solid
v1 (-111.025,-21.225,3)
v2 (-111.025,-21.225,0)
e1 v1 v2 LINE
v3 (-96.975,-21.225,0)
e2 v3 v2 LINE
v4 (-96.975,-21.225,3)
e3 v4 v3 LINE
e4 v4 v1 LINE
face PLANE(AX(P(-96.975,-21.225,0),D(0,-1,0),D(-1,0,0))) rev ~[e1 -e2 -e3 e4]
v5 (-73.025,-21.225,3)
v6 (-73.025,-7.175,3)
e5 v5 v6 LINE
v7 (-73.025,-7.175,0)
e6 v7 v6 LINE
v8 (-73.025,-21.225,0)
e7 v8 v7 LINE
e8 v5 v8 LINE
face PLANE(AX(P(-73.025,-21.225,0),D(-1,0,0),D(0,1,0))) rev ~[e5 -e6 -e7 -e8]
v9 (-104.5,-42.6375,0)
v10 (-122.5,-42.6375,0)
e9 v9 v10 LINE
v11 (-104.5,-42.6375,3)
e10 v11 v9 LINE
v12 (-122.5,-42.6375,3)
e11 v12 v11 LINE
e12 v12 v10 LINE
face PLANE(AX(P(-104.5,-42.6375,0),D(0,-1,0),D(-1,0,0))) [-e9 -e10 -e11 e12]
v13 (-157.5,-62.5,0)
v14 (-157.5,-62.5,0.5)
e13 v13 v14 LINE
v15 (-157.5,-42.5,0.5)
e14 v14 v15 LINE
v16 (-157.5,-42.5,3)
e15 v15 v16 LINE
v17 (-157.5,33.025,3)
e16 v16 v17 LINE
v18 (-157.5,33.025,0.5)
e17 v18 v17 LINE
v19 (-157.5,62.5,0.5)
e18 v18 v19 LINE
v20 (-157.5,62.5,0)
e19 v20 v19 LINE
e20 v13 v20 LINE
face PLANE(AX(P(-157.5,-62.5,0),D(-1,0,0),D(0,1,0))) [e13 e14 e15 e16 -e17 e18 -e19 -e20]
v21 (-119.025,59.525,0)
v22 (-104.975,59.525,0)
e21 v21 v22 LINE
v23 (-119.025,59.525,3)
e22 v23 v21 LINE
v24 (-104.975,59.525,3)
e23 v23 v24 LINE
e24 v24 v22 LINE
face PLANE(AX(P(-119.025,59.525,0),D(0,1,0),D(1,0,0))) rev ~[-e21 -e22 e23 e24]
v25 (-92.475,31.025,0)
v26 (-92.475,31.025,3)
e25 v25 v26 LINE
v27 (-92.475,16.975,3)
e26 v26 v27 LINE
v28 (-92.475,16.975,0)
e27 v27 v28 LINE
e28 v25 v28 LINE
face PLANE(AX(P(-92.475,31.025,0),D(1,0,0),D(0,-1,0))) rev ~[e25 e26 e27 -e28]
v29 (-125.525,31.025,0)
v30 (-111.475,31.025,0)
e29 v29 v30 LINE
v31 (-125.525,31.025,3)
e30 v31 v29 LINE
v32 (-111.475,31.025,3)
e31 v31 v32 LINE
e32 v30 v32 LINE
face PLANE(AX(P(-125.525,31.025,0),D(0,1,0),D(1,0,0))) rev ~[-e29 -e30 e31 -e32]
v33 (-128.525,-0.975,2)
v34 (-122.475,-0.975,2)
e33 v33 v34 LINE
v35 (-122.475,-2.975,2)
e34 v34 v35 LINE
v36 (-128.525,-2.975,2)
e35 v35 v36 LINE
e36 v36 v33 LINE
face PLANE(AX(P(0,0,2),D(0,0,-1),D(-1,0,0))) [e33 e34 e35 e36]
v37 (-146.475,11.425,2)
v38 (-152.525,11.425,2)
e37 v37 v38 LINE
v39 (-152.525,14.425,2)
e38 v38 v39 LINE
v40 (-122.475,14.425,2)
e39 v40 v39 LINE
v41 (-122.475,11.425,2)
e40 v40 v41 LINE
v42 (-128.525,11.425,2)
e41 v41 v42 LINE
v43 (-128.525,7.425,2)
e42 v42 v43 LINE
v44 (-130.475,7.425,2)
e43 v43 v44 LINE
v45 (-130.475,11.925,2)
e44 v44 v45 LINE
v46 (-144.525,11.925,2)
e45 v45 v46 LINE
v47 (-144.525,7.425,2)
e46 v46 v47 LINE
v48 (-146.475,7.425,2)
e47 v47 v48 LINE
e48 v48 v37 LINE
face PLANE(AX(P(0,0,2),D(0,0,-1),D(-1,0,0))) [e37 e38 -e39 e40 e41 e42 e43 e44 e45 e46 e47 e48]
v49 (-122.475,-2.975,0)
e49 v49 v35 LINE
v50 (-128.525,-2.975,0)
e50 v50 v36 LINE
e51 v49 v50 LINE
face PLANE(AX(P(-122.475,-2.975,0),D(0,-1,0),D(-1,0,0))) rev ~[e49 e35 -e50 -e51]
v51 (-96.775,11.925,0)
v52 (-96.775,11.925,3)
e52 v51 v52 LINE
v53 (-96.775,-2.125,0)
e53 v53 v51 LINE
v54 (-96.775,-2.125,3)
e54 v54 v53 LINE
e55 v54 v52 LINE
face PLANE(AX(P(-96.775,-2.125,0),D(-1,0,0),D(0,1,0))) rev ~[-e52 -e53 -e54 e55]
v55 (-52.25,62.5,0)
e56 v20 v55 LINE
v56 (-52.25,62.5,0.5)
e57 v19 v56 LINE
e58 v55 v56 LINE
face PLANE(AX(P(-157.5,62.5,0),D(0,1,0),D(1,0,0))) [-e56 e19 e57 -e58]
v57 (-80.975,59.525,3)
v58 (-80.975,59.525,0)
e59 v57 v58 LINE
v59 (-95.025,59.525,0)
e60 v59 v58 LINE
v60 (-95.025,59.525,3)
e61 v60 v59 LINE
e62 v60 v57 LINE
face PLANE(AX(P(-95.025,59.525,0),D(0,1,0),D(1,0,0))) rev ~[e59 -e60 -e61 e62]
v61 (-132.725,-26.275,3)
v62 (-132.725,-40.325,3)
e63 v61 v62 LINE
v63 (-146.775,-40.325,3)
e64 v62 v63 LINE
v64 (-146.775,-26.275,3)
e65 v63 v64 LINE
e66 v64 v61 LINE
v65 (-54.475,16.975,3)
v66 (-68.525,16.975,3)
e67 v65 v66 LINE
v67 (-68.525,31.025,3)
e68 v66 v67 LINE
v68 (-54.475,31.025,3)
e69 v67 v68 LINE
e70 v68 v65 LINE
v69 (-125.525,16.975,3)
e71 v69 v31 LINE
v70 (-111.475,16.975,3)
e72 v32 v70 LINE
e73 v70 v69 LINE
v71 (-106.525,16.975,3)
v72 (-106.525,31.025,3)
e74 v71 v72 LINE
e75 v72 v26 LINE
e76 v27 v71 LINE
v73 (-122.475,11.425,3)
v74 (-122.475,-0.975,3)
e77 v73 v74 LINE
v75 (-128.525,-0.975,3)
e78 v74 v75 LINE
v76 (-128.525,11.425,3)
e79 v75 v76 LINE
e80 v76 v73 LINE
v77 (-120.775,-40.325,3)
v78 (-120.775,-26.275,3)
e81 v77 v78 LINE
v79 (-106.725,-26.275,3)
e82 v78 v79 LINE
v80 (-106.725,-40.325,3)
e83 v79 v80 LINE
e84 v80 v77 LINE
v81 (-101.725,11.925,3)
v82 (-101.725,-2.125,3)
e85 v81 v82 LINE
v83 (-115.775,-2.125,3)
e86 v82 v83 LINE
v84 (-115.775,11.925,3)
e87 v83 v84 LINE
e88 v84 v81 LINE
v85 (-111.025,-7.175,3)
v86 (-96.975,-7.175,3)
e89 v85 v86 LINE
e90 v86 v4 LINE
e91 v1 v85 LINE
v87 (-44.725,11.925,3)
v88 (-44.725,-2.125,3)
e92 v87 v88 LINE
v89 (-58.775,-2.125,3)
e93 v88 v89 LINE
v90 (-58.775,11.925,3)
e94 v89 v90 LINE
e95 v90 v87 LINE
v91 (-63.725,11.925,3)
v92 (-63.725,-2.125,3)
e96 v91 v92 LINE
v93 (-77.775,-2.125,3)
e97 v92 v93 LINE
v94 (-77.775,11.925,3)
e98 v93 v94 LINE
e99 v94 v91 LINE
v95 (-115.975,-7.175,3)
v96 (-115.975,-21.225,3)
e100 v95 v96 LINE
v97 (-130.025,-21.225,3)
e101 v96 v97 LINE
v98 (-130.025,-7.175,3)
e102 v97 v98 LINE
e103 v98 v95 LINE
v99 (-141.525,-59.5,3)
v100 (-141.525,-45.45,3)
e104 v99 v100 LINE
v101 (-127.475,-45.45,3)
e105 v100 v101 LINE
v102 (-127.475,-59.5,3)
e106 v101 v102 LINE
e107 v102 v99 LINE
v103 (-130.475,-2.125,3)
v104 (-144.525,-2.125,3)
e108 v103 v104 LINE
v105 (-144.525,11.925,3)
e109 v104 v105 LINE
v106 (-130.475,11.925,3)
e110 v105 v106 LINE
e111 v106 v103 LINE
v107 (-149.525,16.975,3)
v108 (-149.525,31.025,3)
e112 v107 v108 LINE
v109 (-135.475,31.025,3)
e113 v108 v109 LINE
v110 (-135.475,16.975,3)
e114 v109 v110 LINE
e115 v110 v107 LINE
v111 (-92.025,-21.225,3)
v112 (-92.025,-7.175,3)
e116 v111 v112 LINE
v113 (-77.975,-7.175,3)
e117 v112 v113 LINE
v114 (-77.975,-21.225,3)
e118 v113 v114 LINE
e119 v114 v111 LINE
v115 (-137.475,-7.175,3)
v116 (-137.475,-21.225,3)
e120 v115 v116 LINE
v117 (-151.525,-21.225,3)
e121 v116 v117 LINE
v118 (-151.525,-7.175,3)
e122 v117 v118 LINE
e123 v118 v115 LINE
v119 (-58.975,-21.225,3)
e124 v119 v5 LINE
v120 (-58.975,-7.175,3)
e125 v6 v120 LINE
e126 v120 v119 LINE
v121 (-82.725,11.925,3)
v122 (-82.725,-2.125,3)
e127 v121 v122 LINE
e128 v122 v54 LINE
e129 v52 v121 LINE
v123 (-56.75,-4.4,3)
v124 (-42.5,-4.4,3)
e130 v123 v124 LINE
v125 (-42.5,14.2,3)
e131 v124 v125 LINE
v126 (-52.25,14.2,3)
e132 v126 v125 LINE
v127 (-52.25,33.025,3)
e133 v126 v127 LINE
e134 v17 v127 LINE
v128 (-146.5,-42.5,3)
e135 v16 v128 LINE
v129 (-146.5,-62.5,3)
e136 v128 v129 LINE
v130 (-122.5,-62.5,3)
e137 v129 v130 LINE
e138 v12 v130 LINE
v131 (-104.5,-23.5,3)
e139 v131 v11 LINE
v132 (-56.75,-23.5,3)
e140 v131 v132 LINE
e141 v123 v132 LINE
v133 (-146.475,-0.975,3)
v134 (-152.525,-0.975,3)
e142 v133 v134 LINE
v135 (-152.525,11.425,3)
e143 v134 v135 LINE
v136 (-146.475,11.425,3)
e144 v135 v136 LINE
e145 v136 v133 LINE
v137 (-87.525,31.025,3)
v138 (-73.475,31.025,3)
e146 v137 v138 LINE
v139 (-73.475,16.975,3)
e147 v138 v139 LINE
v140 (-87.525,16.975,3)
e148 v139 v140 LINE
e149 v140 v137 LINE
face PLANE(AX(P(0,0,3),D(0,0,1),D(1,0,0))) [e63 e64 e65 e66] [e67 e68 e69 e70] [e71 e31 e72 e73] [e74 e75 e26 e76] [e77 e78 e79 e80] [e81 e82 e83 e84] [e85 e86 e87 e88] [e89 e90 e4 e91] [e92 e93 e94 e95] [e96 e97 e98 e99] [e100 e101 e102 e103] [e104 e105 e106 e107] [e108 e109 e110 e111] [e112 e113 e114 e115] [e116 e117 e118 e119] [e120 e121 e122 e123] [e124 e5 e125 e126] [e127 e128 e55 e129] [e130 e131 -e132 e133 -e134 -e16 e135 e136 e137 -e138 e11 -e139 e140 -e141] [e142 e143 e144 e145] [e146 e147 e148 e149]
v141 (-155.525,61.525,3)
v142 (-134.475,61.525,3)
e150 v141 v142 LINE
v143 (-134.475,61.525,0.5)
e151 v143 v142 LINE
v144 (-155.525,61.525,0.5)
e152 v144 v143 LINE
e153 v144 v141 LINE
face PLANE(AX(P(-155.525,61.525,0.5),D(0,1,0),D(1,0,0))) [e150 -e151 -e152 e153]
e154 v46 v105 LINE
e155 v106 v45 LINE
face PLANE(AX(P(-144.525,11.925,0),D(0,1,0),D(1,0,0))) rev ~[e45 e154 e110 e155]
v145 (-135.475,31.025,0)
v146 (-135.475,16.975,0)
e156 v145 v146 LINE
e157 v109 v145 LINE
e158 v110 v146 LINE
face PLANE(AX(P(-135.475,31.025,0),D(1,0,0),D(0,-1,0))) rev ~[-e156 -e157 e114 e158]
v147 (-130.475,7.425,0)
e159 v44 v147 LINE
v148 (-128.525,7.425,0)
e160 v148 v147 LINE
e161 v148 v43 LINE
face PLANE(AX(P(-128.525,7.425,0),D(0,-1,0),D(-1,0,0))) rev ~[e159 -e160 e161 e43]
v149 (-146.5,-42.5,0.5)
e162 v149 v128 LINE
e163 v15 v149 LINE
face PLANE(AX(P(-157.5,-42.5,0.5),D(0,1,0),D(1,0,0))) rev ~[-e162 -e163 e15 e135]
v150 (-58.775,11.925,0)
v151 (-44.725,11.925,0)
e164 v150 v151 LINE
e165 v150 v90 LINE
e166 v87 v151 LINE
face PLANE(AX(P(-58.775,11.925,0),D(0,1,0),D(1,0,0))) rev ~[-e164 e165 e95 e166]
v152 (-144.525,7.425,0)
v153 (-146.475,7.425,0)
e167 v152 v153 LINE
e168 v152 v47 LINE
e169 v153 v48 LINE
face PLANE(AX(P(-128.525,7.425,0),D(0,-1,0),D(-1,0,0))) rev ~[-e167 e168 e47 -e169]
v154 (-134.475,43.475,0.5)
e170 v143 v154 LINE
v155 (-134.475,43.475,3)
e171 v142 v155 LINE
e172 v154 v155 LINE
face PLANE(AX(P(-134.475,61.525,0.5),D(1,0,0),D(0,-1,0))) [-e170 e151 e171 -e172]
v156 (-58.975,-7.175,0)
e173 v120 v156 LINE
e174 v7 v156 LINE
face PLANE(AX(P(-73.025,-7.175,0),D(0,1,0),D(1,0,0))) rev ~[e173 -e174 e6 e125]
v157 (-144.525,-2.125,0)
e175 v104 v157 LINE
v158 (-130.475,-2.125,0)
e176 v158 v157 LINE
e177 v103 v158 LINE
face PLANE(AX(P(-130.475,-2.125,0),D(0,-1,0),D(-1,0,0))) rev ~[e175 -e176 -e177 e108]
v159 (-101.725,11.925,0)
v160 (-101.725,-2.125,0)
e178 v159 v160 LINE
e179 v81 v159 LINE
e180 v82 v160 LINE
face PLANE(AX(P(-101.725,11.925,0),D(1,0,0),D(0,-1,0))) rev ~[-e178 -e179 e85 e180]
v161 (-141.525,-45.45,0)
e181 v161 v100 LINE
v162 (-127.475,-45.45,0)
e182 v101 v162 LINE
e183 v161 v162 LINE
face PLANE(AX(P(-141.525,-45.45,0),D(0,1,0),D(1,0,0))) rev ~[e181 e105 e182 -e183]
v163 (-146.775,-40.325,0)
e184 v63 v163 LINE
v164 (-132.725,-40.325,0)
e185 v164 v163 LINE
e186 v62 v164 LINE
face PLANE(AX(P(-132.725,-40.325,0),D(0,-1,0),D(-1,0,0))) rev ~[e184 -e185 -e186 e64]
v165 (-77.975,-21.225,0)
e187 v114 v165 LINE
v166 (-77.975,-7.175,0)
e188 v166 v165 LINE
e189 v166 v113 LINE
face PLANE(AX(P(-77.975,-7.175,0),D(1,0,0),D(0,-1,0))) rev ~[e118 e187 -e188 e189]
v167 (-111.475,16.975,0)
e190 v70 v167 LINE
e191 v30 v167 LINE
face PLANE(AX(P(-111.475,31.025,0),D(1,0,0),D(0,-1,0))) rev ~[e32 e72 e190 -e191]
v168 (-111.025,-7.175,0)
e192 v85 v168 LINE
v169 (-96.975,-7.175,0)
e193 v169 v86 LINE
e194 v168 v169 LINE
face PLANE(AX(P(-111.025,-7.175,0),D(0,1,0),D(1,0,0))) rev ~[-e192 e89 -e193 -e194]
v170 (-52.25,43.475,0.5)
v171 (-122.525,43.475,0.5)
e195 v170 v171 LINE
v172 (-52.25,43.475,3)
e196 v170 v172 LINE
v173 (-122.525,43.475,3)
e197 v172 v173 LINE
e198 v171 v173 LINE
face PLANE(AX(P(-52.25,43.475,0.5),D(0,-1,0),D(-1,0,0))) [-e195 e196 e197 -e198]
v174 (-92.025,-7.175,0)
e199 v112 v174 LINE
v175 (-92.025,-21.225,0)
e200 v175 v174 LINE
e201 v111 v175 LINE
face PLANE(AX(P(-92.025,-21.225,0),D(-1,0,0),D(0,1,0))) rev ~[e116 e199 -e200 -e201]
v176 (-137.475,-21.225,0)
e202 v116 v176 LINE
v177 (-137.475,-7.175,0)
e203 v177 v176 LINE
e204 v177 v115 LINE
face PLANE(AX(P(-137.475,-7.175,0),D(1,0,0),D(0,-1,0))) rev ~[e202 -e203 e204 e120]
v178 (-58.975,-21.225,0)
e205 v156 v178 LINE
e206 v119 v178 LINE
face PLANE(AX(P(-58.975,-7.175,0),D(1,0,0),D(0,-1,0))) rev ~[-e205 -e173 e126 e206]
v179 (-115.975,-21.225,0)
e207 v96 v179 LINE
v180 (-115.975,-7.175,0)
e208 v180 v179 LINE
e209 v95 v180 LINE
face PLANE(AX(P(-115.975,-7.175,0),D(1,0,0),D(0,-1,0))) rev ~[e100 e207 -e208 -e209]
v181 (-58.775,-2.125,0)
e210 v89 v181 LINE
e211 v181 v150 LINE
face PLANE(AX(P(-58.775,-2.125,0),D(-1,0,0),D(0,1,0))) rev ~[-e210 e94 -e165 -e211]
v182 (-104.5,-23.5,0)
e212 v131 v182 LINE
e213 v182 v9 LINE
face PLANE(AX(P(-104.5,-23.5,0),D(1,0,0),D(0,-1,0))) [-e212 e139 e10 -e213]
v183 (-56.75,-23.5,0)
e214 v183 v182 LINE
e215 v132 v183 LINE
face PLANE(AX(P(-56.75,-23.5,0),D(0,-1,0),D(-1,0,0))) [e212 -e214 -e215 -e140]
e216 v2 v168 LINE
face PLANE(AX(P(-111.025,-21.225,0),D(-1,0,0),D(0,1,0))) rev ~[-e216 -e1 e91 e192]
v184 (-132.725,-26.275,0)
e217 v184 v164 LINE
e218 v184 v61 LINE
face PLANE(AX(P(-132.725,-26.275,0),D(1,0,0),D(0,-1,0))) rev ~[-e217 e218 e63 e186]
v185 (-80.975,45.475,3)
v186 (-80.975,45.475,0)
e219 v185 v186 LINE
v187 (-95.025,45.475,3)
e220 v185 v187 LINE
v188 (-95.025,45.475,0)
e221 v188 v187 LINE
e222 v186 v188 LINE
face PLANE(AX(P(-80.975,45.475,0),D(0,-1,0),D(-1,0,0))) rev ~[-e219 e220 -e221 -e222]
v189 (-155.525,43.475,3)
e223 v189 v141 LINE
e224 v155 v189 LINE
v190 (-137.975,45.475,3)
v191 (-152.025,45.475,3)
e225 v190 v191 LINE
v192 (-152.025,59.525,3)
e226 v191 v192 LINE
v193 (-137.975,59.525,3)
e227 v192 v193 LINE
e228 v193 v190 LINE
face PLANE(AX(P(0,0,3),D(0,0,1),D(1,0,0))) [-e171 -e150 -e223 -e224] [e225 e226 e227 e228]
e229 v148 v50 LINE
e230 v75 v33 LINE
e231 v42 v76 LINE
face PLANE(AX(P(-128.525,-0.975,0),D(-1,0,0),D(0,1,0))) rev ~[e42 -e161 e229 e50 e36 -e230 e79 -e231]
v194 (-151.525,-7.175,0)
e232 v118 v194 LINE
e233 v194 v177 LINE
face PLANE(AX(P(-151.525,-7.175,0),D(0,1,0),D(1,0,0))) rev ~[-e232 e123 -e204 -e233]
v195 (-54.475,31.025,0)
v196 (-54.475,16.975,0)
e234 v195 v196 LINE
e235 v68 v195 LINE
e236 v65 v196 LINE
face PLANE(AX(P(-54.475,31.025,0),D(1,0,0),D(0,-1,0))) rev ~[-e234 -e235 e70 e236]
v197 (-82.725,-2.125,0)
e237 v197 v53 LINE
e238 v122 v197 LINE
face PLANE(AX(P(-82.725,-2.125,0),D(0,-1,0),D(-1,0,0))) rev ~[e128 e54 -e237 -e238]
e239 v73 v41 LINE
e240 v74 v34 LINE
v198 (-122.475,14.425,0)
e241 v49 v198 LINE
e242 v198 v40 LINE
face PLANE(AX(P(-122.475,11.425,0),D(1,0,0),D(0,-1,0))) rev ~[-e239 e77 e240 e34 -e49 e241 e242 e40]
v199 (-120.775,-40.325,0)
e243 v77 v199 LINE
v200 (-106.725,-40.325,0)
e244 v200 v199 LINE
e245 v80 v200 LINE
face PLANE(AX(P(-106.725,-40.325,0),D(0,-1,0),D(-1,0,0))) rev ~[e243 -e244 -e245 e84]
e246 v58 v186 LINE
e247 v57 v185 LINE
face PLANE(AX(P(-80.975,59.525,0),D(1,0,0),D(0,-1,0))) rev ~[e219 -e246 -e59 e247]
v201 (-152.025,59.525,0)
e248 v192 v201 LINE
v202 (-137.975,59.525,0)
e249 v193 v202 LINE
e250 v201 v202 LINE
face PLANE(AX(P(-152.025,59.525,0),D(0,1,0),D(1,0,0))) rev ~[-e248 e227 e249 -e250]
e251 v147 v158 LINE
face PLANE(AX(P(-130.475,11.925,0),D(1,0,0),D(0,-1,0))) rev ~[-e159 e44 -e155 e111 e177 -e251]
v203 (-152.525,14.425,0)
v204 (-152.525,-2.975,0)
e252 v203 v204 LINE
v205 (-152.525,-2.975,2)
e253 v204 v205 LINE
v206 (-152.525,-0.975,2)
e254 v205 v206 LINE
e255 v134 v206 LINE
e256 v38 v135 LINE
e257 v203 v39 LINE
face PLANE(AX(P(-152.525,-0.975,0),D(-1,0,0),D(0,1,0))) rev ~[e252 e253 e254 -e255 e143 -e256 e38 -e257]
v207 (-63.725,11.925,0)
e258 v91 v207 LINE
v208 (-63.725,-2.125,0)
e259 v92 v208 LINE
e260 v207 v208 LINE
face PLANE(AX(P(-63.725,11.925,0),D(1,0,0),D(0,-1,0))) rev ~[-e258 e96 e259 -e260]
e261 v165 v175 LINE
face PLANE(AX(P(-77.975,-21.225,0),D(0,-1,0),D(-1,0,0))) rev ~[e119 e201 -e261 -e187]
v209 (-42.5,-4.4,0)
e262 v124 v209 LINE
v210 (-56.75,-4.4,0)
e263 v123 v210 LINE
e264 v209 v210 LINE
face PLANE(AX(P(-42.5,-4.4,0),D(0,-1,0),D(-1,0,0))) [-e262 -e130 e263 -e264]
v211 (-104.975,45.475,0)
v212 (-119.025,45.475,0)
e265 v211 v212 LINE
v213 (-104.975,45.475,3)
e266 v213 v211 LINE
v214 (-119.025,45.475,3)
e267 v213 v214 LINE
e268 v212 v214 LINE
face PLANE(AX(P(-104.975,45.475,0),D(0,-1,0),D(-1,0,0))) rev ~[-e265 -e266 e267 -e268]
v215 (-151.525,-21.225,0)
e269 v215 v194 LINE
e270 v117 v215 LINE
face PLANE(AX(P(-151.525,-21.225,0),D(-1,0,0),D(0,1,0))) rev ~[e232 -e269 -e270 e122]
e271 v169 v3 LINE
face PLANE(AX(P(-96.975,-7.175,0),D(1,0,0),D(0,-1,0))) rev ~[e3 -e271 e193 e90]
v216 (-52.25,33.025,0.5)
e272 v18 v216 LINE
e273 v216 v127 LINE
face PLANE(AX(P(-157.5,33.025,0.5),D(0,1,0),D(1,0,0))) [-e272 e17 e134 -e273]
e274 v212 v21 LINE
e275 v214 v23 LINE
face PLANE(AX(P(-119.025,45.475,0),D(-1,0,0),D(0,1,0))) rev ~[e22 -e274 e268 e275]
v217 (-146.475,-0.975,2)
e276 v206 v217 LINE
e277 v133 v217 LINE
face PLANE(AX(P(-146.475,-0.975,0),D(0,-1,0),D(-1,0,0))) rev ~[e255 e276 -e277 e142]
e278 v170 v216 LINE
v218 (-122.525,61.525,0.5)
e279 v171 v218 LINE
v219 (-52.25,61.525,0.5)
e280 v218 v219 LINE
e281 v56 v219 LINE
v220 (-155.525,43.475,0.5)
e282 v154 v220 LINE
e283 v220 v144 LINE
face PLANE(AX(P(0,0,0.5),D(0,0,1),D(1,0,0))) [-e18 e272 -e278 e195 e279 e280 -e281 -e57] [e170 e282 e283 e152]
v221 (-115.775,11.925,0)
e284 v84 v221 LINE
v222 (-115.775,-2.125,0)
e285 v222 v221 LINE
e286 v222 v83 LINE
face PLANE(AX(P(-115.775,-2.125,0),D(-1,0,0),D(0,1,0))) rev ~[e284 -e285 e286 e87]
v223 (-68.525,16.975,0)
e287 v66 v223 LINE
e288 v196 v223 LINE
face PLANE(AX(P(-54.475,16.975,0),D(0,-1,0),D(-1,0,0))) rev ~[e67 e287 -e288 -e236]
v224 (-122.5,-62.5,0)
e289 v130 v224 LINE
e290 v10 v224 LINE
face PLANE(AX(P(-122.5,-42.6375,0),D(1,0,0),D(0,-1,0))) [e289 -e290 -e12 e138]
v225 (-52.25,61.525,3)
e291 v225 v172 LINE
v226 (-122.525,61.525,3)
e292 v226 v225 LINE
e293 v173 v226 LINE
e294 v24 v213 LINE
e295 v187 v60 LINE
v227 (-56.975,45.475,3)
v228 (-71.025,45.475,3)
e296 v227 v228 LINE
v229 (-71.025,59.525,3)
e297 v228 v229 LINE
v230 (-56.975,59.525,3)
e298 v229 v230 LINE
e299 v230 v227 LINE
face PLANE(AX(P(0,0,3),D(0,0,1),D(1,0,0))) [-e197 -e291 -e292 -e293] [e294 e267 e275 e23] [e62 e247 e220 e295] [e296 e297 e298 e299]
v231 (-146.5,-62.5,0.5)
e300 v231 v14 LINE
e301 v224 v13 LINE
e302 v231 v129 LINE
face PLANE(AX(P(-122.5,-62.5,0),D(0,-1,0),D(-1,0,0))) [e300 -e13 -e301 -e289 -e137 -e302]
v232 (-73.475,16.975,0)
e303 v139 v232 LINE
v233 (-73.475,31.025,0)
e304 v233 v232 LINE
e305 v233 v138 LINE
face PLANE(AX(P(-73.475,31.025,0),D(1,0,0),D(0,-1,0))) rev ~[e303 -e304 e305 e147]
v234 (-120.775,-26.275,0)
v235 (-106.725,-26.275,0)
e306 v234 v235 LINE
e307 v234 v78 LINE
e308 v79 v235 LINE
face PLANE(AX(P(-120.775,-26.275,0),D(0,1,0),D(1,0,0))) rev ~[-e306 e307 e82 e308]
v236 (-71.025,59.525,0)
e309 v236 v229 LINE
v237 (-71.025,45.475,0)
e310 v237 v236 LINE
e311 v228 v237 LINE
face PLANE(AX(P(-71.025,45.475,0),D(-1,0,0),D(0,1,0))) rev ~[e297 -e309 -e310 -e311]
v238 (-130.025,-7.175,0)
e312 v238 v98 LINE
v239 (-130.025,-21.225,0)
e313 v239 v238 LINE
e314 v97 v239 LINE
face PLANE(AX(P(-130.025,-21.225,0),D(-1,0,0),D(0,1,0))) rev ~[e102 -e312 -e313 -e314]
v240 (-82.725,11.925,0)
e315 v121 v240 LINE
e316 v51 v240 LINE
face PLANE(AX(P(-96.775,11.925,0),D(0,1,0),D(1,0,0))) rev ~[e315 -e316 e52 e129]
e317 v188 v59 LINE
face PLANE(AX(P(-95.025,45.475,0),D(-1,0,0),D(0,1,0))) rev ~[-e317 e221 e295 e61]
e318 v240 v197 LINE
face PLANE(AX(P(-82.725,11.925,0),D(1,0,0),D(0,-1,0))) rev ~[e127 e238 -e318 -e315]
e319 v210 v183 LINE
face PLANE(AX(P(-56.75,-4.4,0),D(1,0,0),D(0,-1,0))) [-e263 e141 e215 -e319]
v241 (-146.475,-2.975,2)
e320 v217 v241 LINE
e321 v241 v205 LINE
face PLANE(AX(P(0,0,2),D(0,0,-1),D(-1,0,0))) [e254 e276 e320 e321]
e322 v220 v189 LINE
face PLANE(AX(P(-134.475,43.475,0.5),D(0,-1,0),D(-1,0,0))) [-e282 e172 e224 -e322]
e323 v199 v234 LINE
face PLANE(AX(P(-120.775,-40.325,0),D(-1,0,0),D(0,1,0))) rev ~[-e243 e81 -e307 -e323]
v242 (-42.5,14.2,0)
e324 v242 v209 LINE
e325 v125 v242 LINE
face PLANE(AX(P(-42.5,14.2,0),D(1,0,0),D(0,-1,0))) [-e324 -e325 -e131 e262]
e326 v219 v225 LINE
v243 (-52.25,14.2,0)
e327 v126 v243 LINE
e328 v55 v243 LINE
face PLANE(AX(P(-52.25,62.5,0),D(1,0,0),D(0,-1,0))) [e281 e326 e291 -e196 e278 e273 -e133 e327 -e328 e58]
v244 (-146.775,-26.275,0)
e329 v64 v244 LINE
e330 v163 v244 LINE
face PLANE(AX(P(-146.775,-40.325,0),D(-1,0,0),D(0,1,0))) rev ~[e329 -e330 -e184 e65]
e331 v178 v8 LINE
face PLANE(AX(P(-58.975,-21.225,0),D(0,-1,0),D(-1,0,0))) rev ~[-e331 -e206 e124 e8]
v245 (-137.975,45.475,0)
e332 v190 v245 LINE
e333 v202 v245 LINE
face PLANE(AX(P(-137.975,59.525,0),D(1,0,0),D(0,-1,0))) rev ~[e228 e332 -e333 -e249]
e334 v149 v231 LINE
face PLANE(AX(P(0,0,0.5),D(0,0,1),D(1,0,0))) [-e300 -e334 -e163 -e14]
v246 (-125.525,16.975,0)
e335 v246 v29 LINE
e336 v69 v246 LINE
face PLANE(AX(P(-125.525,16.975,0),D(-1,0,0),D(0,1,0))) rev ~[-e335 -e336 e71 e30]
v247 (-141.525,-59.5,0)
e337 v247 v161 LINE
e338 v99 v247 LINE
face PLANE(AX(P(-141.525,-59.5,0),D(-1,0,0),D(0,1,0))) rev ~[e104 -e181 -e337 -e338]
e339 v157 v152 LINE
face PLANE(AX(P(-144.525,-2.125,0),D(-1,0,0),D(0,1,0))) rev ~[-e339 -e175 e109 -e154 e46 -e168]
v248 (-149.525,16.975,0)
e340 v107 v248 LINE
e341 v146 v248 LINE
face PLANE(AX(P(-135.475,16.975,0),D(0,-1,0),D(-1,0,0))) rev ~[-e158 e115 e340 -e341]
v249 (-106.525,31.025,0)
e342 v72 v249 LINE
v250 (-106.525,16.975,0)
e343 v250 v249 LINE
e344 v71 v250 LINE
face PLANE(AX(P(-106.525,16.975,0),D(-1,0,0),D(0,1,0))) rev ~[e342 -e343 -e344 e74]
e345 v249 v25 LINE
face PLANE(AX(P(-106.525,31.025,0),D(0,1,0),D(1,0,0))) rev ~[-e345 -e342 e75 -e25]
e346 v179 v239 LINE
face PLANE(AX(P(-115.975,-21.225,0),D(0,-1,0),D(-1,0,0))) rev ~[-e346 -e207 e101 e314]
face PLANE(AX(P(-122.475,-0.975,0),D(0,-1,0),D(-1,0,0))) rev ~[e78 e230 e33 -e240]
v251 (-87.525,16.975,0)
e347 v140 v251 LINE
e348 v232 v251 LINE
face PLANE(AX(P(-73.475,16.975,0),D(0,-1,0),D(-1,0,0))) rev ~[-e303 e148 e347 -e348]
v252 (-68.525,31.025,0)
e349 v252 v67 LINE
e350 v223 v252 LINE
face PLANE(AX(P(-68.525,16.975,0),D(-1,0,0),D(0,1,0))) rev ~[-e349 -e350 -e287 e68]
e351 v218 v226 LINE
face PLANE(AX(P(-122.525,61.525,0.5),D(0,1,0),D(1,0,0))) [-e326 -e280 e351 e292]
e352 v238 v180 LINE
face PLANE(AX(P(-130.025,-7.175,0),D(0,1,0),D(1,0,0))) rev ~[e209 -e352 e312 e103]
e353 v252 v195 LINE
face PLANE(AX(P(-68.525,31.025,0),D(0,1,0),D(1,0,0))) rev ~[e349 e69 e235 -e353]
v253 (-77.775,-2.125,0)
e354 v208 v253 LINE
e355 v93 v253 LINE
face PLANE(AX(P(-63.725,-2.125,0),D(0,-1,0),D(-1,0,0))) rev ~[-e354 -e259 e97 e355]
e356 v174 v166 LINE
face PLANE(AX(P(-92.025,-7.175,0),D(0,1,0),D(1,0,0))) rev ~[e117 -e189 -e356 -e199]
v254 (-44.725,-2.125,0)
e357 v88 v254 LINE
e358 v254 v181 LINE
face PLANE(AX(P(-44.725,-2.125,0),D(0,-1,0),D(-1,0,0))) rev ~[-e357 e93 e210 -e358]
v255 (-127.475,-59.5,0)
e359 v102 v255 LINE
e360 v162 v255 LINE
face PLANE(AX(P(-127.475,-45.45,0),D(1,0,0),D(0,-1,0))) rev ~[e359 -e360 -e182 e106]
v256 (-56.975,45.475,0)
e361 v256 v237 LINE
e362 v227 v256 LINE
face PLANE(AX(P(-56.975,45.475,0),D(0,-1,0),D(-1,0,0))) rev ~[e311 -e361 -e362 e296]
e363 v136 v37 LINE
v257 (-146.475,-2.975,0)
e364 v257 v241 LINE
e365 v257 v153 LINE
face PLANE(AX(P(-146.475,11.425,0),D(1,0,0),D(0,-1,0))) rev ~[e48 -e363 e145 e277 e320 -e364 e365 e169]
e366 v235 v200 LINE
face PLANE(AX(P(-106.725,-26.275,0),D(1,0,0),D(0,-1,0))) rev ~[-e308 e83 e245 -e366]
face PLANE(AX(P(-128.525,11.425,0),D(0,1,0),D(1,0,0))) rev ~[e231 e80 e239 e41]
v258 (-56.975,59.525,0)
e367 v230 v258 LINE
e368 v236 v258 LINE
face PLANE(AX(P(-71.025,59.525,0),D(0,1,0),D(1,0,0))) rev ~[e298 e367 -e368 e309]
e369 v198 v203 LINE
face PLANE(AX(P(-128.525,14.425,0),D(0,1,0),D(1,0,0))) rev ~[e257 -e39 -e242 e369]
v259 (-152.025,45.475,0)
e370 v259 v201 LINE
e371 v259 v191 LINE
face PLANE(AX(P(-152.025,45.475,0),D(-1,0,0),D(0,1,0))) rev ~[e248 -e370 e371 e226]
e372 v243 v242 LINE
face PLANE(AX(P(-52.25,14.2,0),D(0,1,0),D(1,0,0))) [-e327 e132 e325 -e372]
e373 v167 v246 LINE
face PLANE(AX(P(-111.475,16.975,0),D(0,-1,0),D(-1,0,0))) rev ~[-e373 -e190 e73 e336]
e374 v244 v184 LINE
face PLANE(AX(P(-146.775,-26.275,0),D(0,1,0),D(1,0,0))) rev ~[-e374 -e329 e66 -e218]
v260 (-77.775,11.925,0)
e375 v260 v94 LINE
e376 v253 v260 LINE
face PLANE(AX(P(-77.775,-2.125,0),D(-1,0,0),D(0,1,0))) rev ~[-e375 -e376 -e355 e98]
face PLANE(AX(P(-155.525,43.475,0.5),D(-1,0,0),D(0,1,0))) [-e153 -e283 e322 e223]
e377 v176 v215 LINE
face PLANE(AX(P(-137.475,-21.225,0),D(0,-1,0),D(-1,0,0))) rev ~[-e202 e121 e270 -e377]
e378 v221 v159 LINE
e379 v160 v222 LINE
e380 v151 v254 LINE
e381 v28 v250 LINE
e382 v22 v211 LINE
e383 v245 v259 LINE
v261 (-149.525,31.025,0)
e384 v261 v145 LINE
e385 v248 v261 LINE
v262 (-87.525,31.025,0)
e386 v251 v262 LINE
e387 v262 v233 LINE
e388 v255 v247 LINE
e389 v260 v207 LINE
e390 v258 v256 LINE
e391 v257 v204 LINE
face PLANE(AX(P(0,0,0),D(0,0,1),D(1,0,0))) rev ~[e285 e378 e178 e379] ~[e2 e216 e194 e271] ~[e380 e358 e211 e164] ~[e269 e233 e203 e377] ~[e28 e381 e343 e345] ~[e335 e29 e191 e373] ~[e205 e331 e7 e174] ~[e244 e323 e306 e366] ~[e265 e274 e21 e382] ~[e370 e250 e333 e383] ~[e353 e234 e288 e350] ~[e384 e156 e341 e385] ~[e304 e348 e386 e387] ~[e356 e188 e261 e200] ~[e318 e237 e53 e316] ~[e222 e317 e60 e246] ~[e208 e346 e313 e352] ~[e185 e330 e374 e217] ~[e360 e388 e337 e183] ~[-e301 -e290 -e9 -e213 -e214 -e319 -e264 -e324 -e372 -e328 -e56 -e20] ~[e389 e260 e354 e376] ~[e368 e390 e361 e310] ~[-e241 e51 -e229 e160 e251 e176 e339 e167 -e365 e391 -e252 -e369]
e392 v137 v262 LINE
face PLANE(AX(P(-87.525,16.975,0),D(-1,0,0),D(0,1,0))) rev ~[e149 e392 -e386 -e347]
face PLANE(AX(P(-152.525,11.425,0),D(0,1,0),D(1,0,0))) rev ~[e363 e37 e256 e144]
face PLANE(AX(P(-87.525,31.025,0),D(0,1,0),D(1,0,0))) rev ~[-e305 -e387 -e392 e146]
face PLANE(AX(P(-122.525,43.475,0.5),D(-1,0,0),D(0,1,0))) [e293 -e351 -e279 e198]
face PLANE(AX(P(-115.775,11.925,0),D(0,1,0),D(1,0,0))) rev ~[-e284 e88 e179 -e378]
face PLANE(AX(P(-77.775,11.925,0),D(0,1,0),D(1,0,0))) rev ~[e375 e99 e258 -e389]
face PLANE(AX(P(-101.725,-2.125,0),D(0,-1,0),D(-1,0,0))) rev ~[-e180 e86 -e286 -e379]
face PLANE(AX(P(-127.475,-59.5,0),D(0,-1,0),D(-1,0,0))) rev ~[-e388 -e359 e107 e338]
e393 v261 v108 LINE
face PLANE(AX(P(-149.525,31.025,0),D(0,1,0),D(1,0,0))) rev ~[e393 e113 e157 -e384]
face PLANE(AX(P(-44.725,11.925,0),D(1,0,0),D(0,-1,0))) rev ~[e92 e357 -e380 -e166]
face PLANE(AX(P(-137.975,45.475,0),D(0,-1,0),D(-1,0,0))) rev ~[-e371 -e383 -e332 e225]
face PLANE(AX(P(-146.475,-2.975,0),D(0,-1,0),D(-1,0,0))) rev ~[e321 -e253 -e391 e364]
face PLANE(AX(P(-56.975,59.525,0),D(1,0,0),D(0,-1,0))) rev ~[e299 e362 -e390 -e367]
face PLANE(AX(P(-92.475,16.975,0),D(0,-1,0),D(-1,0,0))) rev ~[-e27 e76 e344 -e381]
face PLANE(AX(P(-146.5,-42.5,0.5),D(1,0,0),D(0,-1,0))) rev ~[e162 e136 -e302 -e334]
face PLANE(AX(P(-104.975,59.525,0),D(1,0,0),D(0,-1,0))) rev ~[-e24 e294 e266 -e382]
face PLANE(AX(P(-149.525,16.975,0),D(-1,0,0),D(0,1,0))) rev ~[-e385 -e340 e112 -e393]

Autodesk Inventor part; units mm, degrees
ref_plane "YZ Plane" through (0, 0, 0) normal (1, 0, 0) x (0, 1, 0)
ref_plane "XZ Plane" through (0, 0, 0) normal (0, 1, 0) x (-1, 0, 0)
ref_plane "XY Plane" through (0, 0, 0) normal (0, 0, 1) x (1, 0, 0)
sketch "Sketch1" plane through (0, 0, 0) normal (0, 0, 1) x (1, 0, 0)
  line L0 (157.5, 62.5) -> (-157.5, 62.5) construction
  line L1 (-157.5, 62.5) -> (-157.5, -62.5) construction
  line L2 (-157.5, -62.5) -> (157.5, -62.5) construction
  line L3 (-52.25, 62.5) -> (-52.25, 14.2)
  line L4 (-52.25, 14.2) -> (-42.5, 14.2)
  line L5 (-42.5, 14.2) -> (-42.5, -4.4)
  line L6 (-42.5, -4.4) -> (-56.75, -4.4)
  line L7 (-56.75, -4.4) -> (-56.75, -23.5)
  line L8 (-56.75, -23.5) -> (-104.5, -23.5)
  line L9 (-104.5, -23.5) -> (-104.5, -42.6375)
  line L10 (-104.5, -42.6375) -> (-122.5, -42.6375)
  line L11 (-122.5, -42.6375) -> (-122.5, -62.5)
  line L12 (-122.5, -62.5) -> (-157.5, -62.5)
  line L13 (-157.5, -62.5) -> (-157.5, 62.5)
  line L14 (-157.5, 62.5) -> (-52.25, 62.5)
  line L15 (-51.75, 61.525) -> (-51.75, 43.475) construction
  line L16 (-51.75, 14.7) -> (-42, 14.7) construction
  line L17 (-42, 14.7) -> (-42, -4.9) construction
  line L18 (-42, -4.9) -> (-56.25, -4.9) construction
  line L19 (-56.25, -4.9) -> (-56.25, -23.5) construction
  line L20 (66.5, -24) -> (-104, -24) construction
  line L21 (-104, -24) -> (-104, -43.1375) construction
  line L22 (-104, -43.1375) -> (-122, -43.1375) construction
  line L23 (-122, -43.1375) -> (-122, -62.5) construction
  line L24 (-152.025, 45.475) -> (-152.025, 59.525) projected
  line L25 (-152.025, 59.525) -> (-137.975, 59.525) projected
  line L26 (-137.975, 59.525) -> (-137.975, 45.475) projected
  line L27 (-137.975, 45.475) -> (-152.025, 45.475) projected
  line L28 (-119.025, 45.475) -> (-119.025, 59.525) projected
  line L29 (-119.025, 59.525) -> (-104.975, 59.525) projected
  line L30 (-104.975, 59.525) -> (-104.975, 45.475) projected
  line L31 (-104.975, 45.475) -> (-119.025, 45.475) projected
  line L32 (-95.025, 45.475) -> (-95.025, 59.525) projected
  line L33 (-95.025, 59.525) -> (-80.975, 59.525) projected
  line L34 (-80.975, 59.525) -> (-80.975, 45.475) projected
  line L35 (-80.975, 45.475) -> (-95.025, 45.475) projected
  line L36 (-71.025, 59.525) -> (-56.975, 59.525) projected
  line L37 (-56.975, 59.525) -> (-56.975, 45.475) projected
  line L38 (-56.975, 45.475) -> (-71.025, 45.475) projected
  line L39 (-71.025, 45.475) -> (-71.025, 59.525) projected
  line L40 (-68.525, 31.025) -> (-54.475, 31.025) projected
  line L41 (-54.475, 31.025) -> (-54.475, 16.975) projected
  line L42 (-68.525, 16.975) -> (-68.525, 31.025) projected
  line L43 (-54.475, 16.975) -> (-68.525, 16.975) projected
  line L44 (-73.475, 31.025) -> (-73.475, 16.975) projected
  line L45 (-87.525, 31.025) -> (-73.475, 31.025) projected
  line L46 (-87.525, 16.975) -> (-87.525, 31.025) projected
  line L47 (-73.475, 16.975) -> (-87.525, 16.975) projected
  line L48 (-92.475, 31.025) -> (-92.475, 16.975) projected
  line L49 (-106.525, 31.025) -> (-92.475, 31.025) projected
  line L50 (-106.525, 16.975) -> (-106.525, 31.025) projected
  line L51 (-92.475, 16.975) -> (-106.525, 16.975) projected
  line L52 (-111.475, 31.025) -> (-111.475, 16.975) projected
  line L53 (-125.525, 16.975) -> (-125.525, 31.025) projected
  line L54 (-125.525, 31.025) -> (-111.475, 31.025) projected
  line L55 (-111.475, 16.975) -> (-125.525, 16.975) projected
  line L56 (-149.525, 31.025) -> (-135.475, 31.025) projected
  line L57 (-135.475, 31.025) -> (-135.475, 16.975) projected
  line L58 (-149.525, 16.975) -> (-149.525, 31.025) projected
  line L59 (-135.475, 16.975) -> (-149.525, 16.975) projected
  line L60 (-144.525, 11.925) -> (-130.475, 11.925) projected
  line L61 (-130.475, -2.125) -> (-144.525, -2.125) projected
  line L62 (-130.475, 11.925) -> (-130.475, -2.125) projected
  line L63 (-144.525, -2.125) -> (-144.525, 11.925) projected
  line L64 (-115.775, -2.125) -> (-115.775, 11.925) projected
  line L65 (-115.775, 11.925) -> (-101.725, 11.925) projected
  line L66 (-101.725, 11.925) -> (-101.725, -2.125) projected
  line L67 (-101.725, -2.125) -> (-115.775, -2.125) projected
  line L68 (-96.775, 11.925) -> (-82.725, 11.925) projected
  line L69 (-82.725, 11.925) -> (-82.725, -2.125) projected
  line L70 (-96.775, -2.125) -> (-96.775, 11.925) projected
  line L71 (-82.725, -2.125) -> (-96.775, -2.125) projected
  line L72 (-77.775, 11.925) -> (-63.725, 11.925) projected
  line L73 (-63.725, 11.925) -> (-63.725, -2.125) projected
  line L74 (-63.725, -2.125) -> (-77.775, -2.125) projected
  line L75 (-77.775, -2.125) -> (-77.775, 11.925) projected
  line L76 (-58.775, 11.925) -> (-44.725, 11.925) projected
  line L77 (-44.725, 11.925) -> (-44.725, -2.125) projected
  line L78 (-44.725, -2.125) -> (-58.775, -2.125) projected
  line L79 (-58.775, -2.125) -> (-58.775, 11.925) projected
  line L80 (-73.025, -7.175) -> (-58.975, -7.175) projected
  line L81 (-58.975, -7.175) -> (-58.975, -21.225) projected
  line L82 (-58.975, -21.225) -> (-73.025, -21.225) projected
  line L83 (-73.025, -21.225) -> (-73.025, -7.175) projected
  line L84 (-77.975, -7.175) -> (-77.975, -21.225) projected
  line L85 (-92.025, -7.175) -> (-77.975, -7.175) projected
  line L86 (-92.025, -21.225) -> (-92.025, -7.175) projected
  line L87 (-77.975, -21.225) -> (-92.025, -21.225) projected
  line L88 (-96.975, -7.175) -> (-96.975, -21.225) projected
  line L89 (-111.025, -7.175) -> (-96.975, -7.175) projected
  line L90 (-111.025, -21.225) -> (-111.025, -7.175) projected
  line L91 (-96.975, -21.225) -> (-111.025, -21.225) projected
  line L92 (-130.025, -7.175) -> (-115.975, -7.175) projected
  line L93 (-115.975, -7.175) -> (-115.975, -21.225) projected
  line L94 (-130.025, -21.225) -> (-130.025, -7.175) projected
  line L95 (-115.975, -21.225) -> (-130.025, -21.225) projected
  line L96 (-120.775, -26.275) -> (-106.725, -26.275) projected
  line L97 (-106.725, -26.275) -> (-106.725, -40.325) projected
  line L98 (-106.725, -40.325) -> (-120.775, -40.325) projected
  line L99 (-120.775, -40.325) -> (-120.775, -26.275) projected
  line L100 (-141.525, -45.45) -> (-127.475, -45.45) projected
  line L101 (-127.475, -45.45) -> (-127.475, -59.5) projected
  line L102 (-141.525, -59.5) -> (-141.525, -45.45) projected
  line L103 (-127.475, -59.5) -> (-141.525, -59.5) projected
  line L104 (-132.725, -26.275) -> (-132.725, -40.325) projected
  line L105 (-146.775, -26.275) -> (-132.725, -26.275) projected
  line L106 (-146.775, -40.325) -> (-146.775, -26.275) projected
  line L107 (-132.725, -40.325) -> (-146.775, -40.325) projected
  line L108 (-137.475, -7.175) -> (-137.475, -21.225) projected
  line L109 (-151.525, -21.225) -> (-151.525, -7.175) projected
  line L110 (-137.475, -21.225) -> (-151.525, -21.225) projected
  line L111 (-151.525, -7.175) -> (-137.475, -7.175) projected
  line L112 (-152.525, -3.625) -> (-152.525, 13.425) construction
  line L113 (-146.475, 13.425) -> (-146.475, -3.625) construction
  line L114 (-128.525, -3.625) -> (-128.525, 13.425) construction
  line L115 (-122.475, 13.425) -> (-122.475, -3.625) construction
  line L116 (-152.525, 11.425) -> (-146.475, 11.425)
  line L117 (-146.475, 11.425) -> (-146.475, -0.975)
  line L118 (-146.475, -0.975) -> (-152.525, -0.975)
  line L119 (-152.525, -0.975) -> (-152.525, 11.425)
  line L120 (-128.525, 11.425) -> (-122.475, 11.425)
  line L121 (-122.475, 11.425) -> (-122.475, -0.975)
  line L122 (-122.475, -0.975) -> (-128.525, -0.975)
  line L123 (-128.525, -0.975) -> (-128.525, 11.425)
  line L124 (-152.525, 13.425) -> (-146.475, 13.425) construction
  point P0 (0, 0)
  dimension "d22" = 3
  dimension "d0" = 0.5
  dimension "d1" = 0.5
  dimension "d2" = 0.5
  dimension "d3" = 0.5
  dimension "d4" = 0.5
  dimension "d5" = 0.5
  dimension "d6" = 0.5
  dimension "d7" = 0.5
  dimension "d8" = 0.5
  dimension "d9" = 2
  dimension "d10" = 12.4
extrude "Extrusion1" add sketch "Sketch1" along normal blind 0.5
sketch "Sketch2" plane through (0, 0, 0.5) normal (0, 0, 1) x (1, 0, 0)
  line L0 (-155.525, 61.525) -> (-134.475, 61.525)
  line L1 (-134.475, 61.525) -> (-134.475, 43.475)
  line L2 (-134.475, 43.475) -> (-155.525, 43.475)
  line L3 (-155.525, 43.475) -> (-155.525, 61.525)
  line L4 (-122.525, 61.525) -> (-52.25, 61.525)
  line L5 (-52.25, 61.525) -> (-52.25, 43.475)
  line L6 (-52.25, 43.475) -> (-122.525, 43.475)
  line L7 (-122.525, 43.475) -> (-122.525, 61.525)
  line L8 (-157.5, 62.5) -> (-157.5, -62.5) construction
  line L9 (-157.5, 33.025) -> (-52.25, 33.025)
  line L10 (-52.25, 14.2) -> (-52.25, 62.5) construction
  line L11 (-42.5, 14.2) -> (-52.25, 14.2) construction
  line L12 (-52.25, 14.2) -> (-52.25, 62.5) projected
  line L13 (-52.25, 33.025) -> (-52.25, 14.2)
  line L14 (-42.5, -4.4) -> (-42.5, 14.2) projected
  line L15 (-52.25, 14.2) -> (-42.5, 14.2)
  line L16 (-152.025, 59.525) -> (-137.975, 59.525) projected
  line L17 (-152.025, 45.475) -> (-152.025, 59.525) projected
  line L18 (-137.975, 59.525) -> (-137.975, 45.475) projected
  line L19 (-137.975, 45.475) -> (-152.025, 45.475) projected
  line L20 (-119.025, 45.475) -> (-119.025, 59.525) projected
  line L21 (-149.525, 31.025) -> (-135.475, 31.025) projected
  line L22 (-56.75, -4.4) -> (-42.5, -4.4) projected
  line L23 (-42.5, -4.4) -> (-56.75, -4.4)
  line L24 (-104.5, -23.5) -> (-56.75, -23.5) projected
  line L25 (-56.75, -4.4) -> (-56.75, -23.5)
  line L26 (-56.75, -23.5) -> (-104.5, -23.5)
  line L27 (-122.5, -42.6375) -> (-104.5, -42.6375) projected
  line L28 (-104.5, -23.5) -> (-104.5, -42.6375)
  line L29 (-104.5, -42.6375) -> (-122.5, -42.6375)
  line L30 (-157.5, -62.5) -> (-122.5, -62.5) construction
  line L31 (-122.5, -42.6375) -> (-122.5, -62.5)
  line L32 (-119.025, 59.525) -> (-104.975, 59.525) projected
  line L33 (-104.975, 59.525) -> (-104.975, 45.475) projected
  line L34 (-104.975, 45.475) -> (-119.025, 45.475) projected
  line L35 (-95.025, 45.475) -> (-95.025, 59.525) projected
  line L36 (-95.025, 59.525) -> (-80.975, 59.525) projected
  line L37 (-80.975, 59.525) -> (-80.975, 45.475) projected
  line L38 (-80.975, 45.475) -> (-95.025, 45.475) projected
  line L39 (-71.025, 45.475) -> (-71.025, 59.525) projected
  line L40 (-71.025, 59.525) -> (-56.975, 59.525) projected
  line L41 (-56.975, 59.525) -> (-56.975, 45.475) projected
  line L42 (-56.975, 45.475) -> (-71.025, 45.475) projected
  line L43 (-68.525, 31.025) -> (-54.475, 31.025) projected
  line L44 (-54.475, 31.025) -> (-54.475, 16.975) projected
  line L45 (-54.475, 16.975) -> (-68.525, 16.975) projected
  line L46 (-68.525, 16.975) -> (-68.525, 31.025) projected
  line L47 (-73.475, 31.025) -> (-73.475, 16.975) projected
  line L48 (-87.525, 31.025) -> (-73.475, 31.025) projected
  line L49 (-87.525, 16.975) -> (-87.525, 31.025) projected
  line L50 (-73.475, 16.975) -> (-87.525, 16.975) projected
  line L51 (-92.475, 31.025) -> (-92.475, 16.975) projected
  line L52 (-106.525, 31.025) -> (-92.475, 31.025) projected
  line L53 (-106.525, 16.975) -> (-106.525, 31.025) projected
  line L54 (-92.475, 16.975) -> (-106.525, 16.975) projected
  line L55 (-111.475, 31.025) -> (-111.475, 16.975) projected
  line L56 (-125.525, 31.025) -> (-111.475, 31.025) projected
  line L57 (-125.525, 16.975) -> (-125.525, 31.025) projected
  line L58 (-111.475, 16.975) -> (-125.525, 16.975) projected
  line L59 (-135.475, 31.025) -> (-135.475, 16.975) projected
  line L60 (-149.525, 16.975) -> (-149.525, 31.025) projected
  line L61 (-135.475, 16.975) -> (-149.525, 16.975) projected
  line L62 (-144.525, 11.925) -> (-130.475, 11.925) projected
  line L63 (-130.475, -2.125) -> (-144.525, -2.125) projected
  line L64 (-144.525, -2.125) -> (-144.525, 11.925) projected
  line L65 (-130.475, 11.925) -> (-130.475, -2.125) projected
  line L66 (-146.475, 11.425) -> (-146.475, -0.975) projected
  line L67 (-152.525, 11.425) -> (-146.475, 11.425) projected
  line L68 (-152.525, -0.975) -> (-152.525, 11.425) projected
  line L69 (-146.475, -0.975) -> (-152.525, -0.975) projected
  line L70 (-128.525, 11.425) -> (-122.475, 11.425) projected
  line L71 (-122.475, 11.425) -> (-122.475, -0.975) projected
  line L72 (-128.525, -0.975) -> (-128.525, 11.425) projected
  line L73 (-122.475, -0.975) -> (-128.525, -0.975) projected
  line L74 (-115.775, -2.125) -> (-115.775, 11.925) projected
  line L75 (-115.775, 11.925) -> (-101.725, 11.925) projected
  line L76 (-101.725, 11.925) -> (-101.725, -2.125) projected
  line L77 (-101.725, -2.125) -> (-115.775, -2.125) projected
  line L78 (-96.775, -2.125) -> (-96.775, 11.925) projected
  line L79 (-96.775, 11.925) -> (-82.725, 11.925) projected
  line L80 (-82.725, 11.925) -> (-82.725, -2.125) projected
  line L81 (-82.725, -2.125) -> (-96.775, -2.125) projected
  line L82 (-77.775, 11.925) -> (-63.725, 11.925) projected
  line L83 (-63.725, 11.925) -> (-63.725, -2.125) projected
  line L84 (-63.725, -2.125) -> (-77.775, -2.125) projected
  line L85 (-77.775, -2.125) -> (-77.775, 11.925) projected
  line L86 (-58.775, 11.925) -> (-44.725, 11.925) projected
  line L87 (-44.725, 11.925) -> (-44.725, -2.125) projected
  line L88 (-44.725, -2.125) -> (-58.775, -2.125) projected
  line L89 (-58.775, -2.125) -> (-58.775, 11.925) projected
  line L90 (-73.025, -7.175) -> (-58.975, -7.175) projected
  line L91 (-58.975, -7.175) -> (-58.975, -21.225) projected
  line L92 (-58.975, -21.225) -> (-73.025, -21.225) projected
  line L93 (-73.025, -21.225) -> (-73.025, -7.175) projected
  line L94 (-92.025, -7.175) -> (-77.975, -7.175) projected
  line L95 (-77.975, -7.175) -> (-77.975, -21.225) projected
  line L96 (-92.025, -21.225) -> (-92.025, -7.175) projected
  line L97 (-77.975, -21.225) -> (-92.025, -21.225) projected
  line L98 (-96.975, -7.175) -> (-96.975, -21.225) projected
  line L99 (-111.025, -7.175) -> (-96.975, -7.175) projected
  line L100 (-111.025, -21.225) -> (-111.025, -7.175) projected
  line L101 (-96.975, -21.225) -> (-111.025, -21.225) projected
  line L102 (-130.025, -7.175) -> (-115.975, -7.175) projected
  line L103 (-115.975, -7.175) -> (-115.975, -21.225) projected
  line L104 (-115.975, -21.225) -> (-130.025, -21.225) projected
  line L105 (-130.025, -21.225) -> (-130.025, -7.175) projected
  line L106 (-137.475, -7.175) -> (-137.475, -21.225) projected
  line L107 (-151.525, -7.175) -> (-137.475, -7.175) projected
  line L108 (-151.525, -21.225) -> (-151.525, -7.175) projected
  line L109 (-137.475, -21.225) -> (-151.525, -21.225) projected
  line L110 (-146.775, -26.275) -> (-132.725, -26.275) projected
  line L111 (-132.725, -26.275) -> (-132.725, -40.325) projected
  line L112 (-146.775, -40.325) -> (-146.775, -26.275) projected
  line L113 (-132.725, -40.325) -> (-146.775, -40.325) projected
  line L114 (-120.775, -26.275) -> (-106.725, -26.275) projected
  line L115 (-106.725, -26.275) -> (-106.725, -40.325) projected
  line L116 (-120.775, -40.325) -> (-120.775, -26.275) projected
  line L117 (-106.725, -40.325) -> (-120.775, -40.325) projected
  line L118 (-141.525, -45.45) -> (-127.475, -45.45) projected
  line L119 (-127.475, -45.45) -> (-127.475, -59.5) projected
  line L120 (-127.475, -59.5) -> (-141.525, -59.5) projected
  line L121 (-141.525, -59.5) -> (-141.525, -45.45) projected
  line L122 (-157.5, -42.5) -> (-146.5, -42.5)
  line L123 (-146.5, -42.5) -> (-146.5, -62.5)
  line L124 (-157.5, -42.5) -> (-157.5, 33.025)
  line L125 (-146.5, -62.5) -> (-122.5, -62.5)
  point P0 (0, 0)
  dimension "d13" = 2
  dimension "d14" = 3.5
  dimension "d15" = 3.5
  dimension "d16" = 2
  dimension "d17" = 3.5
  dimension "d18" = 2
  dimension "d26" = 11
  dimension "d27" = 20
extrude "Extrusion2" add sketch "Sketch2" along normal blind 2.5
sketch "Sketch3" plane through (0, 0, 0) normal (0, 0, -1) x (-1, 0, 0)
  line L0 (122.475, -3.625) -> (122.475, 13.425) construction
  line L1 (128.525, 13.425) -> (128.525, -3.625) construction
  line L2 (146.475, -3.625) -> (146.475, 13.425) construction
  line L3 (152.525, 13.425) -> (152.525, -3.625) construction
  line L4 (122.475, -2.975) -> (128.525, -2.975)
  line L5 (128.525, -2.975) -> (128.525, 7.425)
  line L6 (128.525, 14.425) -> (122.475, 14.425)
  line L7 (122.475, 14.425) -> (122.475, -2.975)
  line L8 (146.475, 11.425) -> (146.475, -0.975) projected
  line L9 (146.475, -2.975) -> (152.525, -2.975)
  line L10 (152.525, -2.975) -> (152.525, 14.425)
  line L11 (152.525, 14.425) -> (146.475, 14.425)
  line L12 (146.475, 7.425) -> (146.475, -2.975)
  line L13 (122.475, -0.975) -> (128.525, -0.975) construction
  line L14 (128.525, 11.425) -> (122.475, 11.425) construction
  line L15 (128.525, 14.425) -> (146.475, 14.425)
  line L16 (128.525, 7.425) -> (146.475, 7.425)
  point P0 (0, 0)
  dimension "d21" = 2
  dimension "d22" = 3
  dimension "d23" = 4
extrude "Extrusion3" cut sketch "Sketch3" against normal blind 2
equation "\"d0\" = dpg"
equation "\"d1\" = dpg"
equation "\"d2\" = dpg"
equation "\"d3\" = dpg"
equation "\"d4\" = dpg"
equation "\"d5\" = dpg"
equation "\"d6\" = dpg"
equation "\"d7\" = dpg"
equation "\"d8\" = dpg"
equation "\"d15\" = d14"
equation "\"d16\" = d13"
equation "\"d17\" = d14"
equation "\"d18\" = d13"
equation "\"dpg\" = 0.5"
properties part number "Upper Left Plate" material "PET Plastic"
